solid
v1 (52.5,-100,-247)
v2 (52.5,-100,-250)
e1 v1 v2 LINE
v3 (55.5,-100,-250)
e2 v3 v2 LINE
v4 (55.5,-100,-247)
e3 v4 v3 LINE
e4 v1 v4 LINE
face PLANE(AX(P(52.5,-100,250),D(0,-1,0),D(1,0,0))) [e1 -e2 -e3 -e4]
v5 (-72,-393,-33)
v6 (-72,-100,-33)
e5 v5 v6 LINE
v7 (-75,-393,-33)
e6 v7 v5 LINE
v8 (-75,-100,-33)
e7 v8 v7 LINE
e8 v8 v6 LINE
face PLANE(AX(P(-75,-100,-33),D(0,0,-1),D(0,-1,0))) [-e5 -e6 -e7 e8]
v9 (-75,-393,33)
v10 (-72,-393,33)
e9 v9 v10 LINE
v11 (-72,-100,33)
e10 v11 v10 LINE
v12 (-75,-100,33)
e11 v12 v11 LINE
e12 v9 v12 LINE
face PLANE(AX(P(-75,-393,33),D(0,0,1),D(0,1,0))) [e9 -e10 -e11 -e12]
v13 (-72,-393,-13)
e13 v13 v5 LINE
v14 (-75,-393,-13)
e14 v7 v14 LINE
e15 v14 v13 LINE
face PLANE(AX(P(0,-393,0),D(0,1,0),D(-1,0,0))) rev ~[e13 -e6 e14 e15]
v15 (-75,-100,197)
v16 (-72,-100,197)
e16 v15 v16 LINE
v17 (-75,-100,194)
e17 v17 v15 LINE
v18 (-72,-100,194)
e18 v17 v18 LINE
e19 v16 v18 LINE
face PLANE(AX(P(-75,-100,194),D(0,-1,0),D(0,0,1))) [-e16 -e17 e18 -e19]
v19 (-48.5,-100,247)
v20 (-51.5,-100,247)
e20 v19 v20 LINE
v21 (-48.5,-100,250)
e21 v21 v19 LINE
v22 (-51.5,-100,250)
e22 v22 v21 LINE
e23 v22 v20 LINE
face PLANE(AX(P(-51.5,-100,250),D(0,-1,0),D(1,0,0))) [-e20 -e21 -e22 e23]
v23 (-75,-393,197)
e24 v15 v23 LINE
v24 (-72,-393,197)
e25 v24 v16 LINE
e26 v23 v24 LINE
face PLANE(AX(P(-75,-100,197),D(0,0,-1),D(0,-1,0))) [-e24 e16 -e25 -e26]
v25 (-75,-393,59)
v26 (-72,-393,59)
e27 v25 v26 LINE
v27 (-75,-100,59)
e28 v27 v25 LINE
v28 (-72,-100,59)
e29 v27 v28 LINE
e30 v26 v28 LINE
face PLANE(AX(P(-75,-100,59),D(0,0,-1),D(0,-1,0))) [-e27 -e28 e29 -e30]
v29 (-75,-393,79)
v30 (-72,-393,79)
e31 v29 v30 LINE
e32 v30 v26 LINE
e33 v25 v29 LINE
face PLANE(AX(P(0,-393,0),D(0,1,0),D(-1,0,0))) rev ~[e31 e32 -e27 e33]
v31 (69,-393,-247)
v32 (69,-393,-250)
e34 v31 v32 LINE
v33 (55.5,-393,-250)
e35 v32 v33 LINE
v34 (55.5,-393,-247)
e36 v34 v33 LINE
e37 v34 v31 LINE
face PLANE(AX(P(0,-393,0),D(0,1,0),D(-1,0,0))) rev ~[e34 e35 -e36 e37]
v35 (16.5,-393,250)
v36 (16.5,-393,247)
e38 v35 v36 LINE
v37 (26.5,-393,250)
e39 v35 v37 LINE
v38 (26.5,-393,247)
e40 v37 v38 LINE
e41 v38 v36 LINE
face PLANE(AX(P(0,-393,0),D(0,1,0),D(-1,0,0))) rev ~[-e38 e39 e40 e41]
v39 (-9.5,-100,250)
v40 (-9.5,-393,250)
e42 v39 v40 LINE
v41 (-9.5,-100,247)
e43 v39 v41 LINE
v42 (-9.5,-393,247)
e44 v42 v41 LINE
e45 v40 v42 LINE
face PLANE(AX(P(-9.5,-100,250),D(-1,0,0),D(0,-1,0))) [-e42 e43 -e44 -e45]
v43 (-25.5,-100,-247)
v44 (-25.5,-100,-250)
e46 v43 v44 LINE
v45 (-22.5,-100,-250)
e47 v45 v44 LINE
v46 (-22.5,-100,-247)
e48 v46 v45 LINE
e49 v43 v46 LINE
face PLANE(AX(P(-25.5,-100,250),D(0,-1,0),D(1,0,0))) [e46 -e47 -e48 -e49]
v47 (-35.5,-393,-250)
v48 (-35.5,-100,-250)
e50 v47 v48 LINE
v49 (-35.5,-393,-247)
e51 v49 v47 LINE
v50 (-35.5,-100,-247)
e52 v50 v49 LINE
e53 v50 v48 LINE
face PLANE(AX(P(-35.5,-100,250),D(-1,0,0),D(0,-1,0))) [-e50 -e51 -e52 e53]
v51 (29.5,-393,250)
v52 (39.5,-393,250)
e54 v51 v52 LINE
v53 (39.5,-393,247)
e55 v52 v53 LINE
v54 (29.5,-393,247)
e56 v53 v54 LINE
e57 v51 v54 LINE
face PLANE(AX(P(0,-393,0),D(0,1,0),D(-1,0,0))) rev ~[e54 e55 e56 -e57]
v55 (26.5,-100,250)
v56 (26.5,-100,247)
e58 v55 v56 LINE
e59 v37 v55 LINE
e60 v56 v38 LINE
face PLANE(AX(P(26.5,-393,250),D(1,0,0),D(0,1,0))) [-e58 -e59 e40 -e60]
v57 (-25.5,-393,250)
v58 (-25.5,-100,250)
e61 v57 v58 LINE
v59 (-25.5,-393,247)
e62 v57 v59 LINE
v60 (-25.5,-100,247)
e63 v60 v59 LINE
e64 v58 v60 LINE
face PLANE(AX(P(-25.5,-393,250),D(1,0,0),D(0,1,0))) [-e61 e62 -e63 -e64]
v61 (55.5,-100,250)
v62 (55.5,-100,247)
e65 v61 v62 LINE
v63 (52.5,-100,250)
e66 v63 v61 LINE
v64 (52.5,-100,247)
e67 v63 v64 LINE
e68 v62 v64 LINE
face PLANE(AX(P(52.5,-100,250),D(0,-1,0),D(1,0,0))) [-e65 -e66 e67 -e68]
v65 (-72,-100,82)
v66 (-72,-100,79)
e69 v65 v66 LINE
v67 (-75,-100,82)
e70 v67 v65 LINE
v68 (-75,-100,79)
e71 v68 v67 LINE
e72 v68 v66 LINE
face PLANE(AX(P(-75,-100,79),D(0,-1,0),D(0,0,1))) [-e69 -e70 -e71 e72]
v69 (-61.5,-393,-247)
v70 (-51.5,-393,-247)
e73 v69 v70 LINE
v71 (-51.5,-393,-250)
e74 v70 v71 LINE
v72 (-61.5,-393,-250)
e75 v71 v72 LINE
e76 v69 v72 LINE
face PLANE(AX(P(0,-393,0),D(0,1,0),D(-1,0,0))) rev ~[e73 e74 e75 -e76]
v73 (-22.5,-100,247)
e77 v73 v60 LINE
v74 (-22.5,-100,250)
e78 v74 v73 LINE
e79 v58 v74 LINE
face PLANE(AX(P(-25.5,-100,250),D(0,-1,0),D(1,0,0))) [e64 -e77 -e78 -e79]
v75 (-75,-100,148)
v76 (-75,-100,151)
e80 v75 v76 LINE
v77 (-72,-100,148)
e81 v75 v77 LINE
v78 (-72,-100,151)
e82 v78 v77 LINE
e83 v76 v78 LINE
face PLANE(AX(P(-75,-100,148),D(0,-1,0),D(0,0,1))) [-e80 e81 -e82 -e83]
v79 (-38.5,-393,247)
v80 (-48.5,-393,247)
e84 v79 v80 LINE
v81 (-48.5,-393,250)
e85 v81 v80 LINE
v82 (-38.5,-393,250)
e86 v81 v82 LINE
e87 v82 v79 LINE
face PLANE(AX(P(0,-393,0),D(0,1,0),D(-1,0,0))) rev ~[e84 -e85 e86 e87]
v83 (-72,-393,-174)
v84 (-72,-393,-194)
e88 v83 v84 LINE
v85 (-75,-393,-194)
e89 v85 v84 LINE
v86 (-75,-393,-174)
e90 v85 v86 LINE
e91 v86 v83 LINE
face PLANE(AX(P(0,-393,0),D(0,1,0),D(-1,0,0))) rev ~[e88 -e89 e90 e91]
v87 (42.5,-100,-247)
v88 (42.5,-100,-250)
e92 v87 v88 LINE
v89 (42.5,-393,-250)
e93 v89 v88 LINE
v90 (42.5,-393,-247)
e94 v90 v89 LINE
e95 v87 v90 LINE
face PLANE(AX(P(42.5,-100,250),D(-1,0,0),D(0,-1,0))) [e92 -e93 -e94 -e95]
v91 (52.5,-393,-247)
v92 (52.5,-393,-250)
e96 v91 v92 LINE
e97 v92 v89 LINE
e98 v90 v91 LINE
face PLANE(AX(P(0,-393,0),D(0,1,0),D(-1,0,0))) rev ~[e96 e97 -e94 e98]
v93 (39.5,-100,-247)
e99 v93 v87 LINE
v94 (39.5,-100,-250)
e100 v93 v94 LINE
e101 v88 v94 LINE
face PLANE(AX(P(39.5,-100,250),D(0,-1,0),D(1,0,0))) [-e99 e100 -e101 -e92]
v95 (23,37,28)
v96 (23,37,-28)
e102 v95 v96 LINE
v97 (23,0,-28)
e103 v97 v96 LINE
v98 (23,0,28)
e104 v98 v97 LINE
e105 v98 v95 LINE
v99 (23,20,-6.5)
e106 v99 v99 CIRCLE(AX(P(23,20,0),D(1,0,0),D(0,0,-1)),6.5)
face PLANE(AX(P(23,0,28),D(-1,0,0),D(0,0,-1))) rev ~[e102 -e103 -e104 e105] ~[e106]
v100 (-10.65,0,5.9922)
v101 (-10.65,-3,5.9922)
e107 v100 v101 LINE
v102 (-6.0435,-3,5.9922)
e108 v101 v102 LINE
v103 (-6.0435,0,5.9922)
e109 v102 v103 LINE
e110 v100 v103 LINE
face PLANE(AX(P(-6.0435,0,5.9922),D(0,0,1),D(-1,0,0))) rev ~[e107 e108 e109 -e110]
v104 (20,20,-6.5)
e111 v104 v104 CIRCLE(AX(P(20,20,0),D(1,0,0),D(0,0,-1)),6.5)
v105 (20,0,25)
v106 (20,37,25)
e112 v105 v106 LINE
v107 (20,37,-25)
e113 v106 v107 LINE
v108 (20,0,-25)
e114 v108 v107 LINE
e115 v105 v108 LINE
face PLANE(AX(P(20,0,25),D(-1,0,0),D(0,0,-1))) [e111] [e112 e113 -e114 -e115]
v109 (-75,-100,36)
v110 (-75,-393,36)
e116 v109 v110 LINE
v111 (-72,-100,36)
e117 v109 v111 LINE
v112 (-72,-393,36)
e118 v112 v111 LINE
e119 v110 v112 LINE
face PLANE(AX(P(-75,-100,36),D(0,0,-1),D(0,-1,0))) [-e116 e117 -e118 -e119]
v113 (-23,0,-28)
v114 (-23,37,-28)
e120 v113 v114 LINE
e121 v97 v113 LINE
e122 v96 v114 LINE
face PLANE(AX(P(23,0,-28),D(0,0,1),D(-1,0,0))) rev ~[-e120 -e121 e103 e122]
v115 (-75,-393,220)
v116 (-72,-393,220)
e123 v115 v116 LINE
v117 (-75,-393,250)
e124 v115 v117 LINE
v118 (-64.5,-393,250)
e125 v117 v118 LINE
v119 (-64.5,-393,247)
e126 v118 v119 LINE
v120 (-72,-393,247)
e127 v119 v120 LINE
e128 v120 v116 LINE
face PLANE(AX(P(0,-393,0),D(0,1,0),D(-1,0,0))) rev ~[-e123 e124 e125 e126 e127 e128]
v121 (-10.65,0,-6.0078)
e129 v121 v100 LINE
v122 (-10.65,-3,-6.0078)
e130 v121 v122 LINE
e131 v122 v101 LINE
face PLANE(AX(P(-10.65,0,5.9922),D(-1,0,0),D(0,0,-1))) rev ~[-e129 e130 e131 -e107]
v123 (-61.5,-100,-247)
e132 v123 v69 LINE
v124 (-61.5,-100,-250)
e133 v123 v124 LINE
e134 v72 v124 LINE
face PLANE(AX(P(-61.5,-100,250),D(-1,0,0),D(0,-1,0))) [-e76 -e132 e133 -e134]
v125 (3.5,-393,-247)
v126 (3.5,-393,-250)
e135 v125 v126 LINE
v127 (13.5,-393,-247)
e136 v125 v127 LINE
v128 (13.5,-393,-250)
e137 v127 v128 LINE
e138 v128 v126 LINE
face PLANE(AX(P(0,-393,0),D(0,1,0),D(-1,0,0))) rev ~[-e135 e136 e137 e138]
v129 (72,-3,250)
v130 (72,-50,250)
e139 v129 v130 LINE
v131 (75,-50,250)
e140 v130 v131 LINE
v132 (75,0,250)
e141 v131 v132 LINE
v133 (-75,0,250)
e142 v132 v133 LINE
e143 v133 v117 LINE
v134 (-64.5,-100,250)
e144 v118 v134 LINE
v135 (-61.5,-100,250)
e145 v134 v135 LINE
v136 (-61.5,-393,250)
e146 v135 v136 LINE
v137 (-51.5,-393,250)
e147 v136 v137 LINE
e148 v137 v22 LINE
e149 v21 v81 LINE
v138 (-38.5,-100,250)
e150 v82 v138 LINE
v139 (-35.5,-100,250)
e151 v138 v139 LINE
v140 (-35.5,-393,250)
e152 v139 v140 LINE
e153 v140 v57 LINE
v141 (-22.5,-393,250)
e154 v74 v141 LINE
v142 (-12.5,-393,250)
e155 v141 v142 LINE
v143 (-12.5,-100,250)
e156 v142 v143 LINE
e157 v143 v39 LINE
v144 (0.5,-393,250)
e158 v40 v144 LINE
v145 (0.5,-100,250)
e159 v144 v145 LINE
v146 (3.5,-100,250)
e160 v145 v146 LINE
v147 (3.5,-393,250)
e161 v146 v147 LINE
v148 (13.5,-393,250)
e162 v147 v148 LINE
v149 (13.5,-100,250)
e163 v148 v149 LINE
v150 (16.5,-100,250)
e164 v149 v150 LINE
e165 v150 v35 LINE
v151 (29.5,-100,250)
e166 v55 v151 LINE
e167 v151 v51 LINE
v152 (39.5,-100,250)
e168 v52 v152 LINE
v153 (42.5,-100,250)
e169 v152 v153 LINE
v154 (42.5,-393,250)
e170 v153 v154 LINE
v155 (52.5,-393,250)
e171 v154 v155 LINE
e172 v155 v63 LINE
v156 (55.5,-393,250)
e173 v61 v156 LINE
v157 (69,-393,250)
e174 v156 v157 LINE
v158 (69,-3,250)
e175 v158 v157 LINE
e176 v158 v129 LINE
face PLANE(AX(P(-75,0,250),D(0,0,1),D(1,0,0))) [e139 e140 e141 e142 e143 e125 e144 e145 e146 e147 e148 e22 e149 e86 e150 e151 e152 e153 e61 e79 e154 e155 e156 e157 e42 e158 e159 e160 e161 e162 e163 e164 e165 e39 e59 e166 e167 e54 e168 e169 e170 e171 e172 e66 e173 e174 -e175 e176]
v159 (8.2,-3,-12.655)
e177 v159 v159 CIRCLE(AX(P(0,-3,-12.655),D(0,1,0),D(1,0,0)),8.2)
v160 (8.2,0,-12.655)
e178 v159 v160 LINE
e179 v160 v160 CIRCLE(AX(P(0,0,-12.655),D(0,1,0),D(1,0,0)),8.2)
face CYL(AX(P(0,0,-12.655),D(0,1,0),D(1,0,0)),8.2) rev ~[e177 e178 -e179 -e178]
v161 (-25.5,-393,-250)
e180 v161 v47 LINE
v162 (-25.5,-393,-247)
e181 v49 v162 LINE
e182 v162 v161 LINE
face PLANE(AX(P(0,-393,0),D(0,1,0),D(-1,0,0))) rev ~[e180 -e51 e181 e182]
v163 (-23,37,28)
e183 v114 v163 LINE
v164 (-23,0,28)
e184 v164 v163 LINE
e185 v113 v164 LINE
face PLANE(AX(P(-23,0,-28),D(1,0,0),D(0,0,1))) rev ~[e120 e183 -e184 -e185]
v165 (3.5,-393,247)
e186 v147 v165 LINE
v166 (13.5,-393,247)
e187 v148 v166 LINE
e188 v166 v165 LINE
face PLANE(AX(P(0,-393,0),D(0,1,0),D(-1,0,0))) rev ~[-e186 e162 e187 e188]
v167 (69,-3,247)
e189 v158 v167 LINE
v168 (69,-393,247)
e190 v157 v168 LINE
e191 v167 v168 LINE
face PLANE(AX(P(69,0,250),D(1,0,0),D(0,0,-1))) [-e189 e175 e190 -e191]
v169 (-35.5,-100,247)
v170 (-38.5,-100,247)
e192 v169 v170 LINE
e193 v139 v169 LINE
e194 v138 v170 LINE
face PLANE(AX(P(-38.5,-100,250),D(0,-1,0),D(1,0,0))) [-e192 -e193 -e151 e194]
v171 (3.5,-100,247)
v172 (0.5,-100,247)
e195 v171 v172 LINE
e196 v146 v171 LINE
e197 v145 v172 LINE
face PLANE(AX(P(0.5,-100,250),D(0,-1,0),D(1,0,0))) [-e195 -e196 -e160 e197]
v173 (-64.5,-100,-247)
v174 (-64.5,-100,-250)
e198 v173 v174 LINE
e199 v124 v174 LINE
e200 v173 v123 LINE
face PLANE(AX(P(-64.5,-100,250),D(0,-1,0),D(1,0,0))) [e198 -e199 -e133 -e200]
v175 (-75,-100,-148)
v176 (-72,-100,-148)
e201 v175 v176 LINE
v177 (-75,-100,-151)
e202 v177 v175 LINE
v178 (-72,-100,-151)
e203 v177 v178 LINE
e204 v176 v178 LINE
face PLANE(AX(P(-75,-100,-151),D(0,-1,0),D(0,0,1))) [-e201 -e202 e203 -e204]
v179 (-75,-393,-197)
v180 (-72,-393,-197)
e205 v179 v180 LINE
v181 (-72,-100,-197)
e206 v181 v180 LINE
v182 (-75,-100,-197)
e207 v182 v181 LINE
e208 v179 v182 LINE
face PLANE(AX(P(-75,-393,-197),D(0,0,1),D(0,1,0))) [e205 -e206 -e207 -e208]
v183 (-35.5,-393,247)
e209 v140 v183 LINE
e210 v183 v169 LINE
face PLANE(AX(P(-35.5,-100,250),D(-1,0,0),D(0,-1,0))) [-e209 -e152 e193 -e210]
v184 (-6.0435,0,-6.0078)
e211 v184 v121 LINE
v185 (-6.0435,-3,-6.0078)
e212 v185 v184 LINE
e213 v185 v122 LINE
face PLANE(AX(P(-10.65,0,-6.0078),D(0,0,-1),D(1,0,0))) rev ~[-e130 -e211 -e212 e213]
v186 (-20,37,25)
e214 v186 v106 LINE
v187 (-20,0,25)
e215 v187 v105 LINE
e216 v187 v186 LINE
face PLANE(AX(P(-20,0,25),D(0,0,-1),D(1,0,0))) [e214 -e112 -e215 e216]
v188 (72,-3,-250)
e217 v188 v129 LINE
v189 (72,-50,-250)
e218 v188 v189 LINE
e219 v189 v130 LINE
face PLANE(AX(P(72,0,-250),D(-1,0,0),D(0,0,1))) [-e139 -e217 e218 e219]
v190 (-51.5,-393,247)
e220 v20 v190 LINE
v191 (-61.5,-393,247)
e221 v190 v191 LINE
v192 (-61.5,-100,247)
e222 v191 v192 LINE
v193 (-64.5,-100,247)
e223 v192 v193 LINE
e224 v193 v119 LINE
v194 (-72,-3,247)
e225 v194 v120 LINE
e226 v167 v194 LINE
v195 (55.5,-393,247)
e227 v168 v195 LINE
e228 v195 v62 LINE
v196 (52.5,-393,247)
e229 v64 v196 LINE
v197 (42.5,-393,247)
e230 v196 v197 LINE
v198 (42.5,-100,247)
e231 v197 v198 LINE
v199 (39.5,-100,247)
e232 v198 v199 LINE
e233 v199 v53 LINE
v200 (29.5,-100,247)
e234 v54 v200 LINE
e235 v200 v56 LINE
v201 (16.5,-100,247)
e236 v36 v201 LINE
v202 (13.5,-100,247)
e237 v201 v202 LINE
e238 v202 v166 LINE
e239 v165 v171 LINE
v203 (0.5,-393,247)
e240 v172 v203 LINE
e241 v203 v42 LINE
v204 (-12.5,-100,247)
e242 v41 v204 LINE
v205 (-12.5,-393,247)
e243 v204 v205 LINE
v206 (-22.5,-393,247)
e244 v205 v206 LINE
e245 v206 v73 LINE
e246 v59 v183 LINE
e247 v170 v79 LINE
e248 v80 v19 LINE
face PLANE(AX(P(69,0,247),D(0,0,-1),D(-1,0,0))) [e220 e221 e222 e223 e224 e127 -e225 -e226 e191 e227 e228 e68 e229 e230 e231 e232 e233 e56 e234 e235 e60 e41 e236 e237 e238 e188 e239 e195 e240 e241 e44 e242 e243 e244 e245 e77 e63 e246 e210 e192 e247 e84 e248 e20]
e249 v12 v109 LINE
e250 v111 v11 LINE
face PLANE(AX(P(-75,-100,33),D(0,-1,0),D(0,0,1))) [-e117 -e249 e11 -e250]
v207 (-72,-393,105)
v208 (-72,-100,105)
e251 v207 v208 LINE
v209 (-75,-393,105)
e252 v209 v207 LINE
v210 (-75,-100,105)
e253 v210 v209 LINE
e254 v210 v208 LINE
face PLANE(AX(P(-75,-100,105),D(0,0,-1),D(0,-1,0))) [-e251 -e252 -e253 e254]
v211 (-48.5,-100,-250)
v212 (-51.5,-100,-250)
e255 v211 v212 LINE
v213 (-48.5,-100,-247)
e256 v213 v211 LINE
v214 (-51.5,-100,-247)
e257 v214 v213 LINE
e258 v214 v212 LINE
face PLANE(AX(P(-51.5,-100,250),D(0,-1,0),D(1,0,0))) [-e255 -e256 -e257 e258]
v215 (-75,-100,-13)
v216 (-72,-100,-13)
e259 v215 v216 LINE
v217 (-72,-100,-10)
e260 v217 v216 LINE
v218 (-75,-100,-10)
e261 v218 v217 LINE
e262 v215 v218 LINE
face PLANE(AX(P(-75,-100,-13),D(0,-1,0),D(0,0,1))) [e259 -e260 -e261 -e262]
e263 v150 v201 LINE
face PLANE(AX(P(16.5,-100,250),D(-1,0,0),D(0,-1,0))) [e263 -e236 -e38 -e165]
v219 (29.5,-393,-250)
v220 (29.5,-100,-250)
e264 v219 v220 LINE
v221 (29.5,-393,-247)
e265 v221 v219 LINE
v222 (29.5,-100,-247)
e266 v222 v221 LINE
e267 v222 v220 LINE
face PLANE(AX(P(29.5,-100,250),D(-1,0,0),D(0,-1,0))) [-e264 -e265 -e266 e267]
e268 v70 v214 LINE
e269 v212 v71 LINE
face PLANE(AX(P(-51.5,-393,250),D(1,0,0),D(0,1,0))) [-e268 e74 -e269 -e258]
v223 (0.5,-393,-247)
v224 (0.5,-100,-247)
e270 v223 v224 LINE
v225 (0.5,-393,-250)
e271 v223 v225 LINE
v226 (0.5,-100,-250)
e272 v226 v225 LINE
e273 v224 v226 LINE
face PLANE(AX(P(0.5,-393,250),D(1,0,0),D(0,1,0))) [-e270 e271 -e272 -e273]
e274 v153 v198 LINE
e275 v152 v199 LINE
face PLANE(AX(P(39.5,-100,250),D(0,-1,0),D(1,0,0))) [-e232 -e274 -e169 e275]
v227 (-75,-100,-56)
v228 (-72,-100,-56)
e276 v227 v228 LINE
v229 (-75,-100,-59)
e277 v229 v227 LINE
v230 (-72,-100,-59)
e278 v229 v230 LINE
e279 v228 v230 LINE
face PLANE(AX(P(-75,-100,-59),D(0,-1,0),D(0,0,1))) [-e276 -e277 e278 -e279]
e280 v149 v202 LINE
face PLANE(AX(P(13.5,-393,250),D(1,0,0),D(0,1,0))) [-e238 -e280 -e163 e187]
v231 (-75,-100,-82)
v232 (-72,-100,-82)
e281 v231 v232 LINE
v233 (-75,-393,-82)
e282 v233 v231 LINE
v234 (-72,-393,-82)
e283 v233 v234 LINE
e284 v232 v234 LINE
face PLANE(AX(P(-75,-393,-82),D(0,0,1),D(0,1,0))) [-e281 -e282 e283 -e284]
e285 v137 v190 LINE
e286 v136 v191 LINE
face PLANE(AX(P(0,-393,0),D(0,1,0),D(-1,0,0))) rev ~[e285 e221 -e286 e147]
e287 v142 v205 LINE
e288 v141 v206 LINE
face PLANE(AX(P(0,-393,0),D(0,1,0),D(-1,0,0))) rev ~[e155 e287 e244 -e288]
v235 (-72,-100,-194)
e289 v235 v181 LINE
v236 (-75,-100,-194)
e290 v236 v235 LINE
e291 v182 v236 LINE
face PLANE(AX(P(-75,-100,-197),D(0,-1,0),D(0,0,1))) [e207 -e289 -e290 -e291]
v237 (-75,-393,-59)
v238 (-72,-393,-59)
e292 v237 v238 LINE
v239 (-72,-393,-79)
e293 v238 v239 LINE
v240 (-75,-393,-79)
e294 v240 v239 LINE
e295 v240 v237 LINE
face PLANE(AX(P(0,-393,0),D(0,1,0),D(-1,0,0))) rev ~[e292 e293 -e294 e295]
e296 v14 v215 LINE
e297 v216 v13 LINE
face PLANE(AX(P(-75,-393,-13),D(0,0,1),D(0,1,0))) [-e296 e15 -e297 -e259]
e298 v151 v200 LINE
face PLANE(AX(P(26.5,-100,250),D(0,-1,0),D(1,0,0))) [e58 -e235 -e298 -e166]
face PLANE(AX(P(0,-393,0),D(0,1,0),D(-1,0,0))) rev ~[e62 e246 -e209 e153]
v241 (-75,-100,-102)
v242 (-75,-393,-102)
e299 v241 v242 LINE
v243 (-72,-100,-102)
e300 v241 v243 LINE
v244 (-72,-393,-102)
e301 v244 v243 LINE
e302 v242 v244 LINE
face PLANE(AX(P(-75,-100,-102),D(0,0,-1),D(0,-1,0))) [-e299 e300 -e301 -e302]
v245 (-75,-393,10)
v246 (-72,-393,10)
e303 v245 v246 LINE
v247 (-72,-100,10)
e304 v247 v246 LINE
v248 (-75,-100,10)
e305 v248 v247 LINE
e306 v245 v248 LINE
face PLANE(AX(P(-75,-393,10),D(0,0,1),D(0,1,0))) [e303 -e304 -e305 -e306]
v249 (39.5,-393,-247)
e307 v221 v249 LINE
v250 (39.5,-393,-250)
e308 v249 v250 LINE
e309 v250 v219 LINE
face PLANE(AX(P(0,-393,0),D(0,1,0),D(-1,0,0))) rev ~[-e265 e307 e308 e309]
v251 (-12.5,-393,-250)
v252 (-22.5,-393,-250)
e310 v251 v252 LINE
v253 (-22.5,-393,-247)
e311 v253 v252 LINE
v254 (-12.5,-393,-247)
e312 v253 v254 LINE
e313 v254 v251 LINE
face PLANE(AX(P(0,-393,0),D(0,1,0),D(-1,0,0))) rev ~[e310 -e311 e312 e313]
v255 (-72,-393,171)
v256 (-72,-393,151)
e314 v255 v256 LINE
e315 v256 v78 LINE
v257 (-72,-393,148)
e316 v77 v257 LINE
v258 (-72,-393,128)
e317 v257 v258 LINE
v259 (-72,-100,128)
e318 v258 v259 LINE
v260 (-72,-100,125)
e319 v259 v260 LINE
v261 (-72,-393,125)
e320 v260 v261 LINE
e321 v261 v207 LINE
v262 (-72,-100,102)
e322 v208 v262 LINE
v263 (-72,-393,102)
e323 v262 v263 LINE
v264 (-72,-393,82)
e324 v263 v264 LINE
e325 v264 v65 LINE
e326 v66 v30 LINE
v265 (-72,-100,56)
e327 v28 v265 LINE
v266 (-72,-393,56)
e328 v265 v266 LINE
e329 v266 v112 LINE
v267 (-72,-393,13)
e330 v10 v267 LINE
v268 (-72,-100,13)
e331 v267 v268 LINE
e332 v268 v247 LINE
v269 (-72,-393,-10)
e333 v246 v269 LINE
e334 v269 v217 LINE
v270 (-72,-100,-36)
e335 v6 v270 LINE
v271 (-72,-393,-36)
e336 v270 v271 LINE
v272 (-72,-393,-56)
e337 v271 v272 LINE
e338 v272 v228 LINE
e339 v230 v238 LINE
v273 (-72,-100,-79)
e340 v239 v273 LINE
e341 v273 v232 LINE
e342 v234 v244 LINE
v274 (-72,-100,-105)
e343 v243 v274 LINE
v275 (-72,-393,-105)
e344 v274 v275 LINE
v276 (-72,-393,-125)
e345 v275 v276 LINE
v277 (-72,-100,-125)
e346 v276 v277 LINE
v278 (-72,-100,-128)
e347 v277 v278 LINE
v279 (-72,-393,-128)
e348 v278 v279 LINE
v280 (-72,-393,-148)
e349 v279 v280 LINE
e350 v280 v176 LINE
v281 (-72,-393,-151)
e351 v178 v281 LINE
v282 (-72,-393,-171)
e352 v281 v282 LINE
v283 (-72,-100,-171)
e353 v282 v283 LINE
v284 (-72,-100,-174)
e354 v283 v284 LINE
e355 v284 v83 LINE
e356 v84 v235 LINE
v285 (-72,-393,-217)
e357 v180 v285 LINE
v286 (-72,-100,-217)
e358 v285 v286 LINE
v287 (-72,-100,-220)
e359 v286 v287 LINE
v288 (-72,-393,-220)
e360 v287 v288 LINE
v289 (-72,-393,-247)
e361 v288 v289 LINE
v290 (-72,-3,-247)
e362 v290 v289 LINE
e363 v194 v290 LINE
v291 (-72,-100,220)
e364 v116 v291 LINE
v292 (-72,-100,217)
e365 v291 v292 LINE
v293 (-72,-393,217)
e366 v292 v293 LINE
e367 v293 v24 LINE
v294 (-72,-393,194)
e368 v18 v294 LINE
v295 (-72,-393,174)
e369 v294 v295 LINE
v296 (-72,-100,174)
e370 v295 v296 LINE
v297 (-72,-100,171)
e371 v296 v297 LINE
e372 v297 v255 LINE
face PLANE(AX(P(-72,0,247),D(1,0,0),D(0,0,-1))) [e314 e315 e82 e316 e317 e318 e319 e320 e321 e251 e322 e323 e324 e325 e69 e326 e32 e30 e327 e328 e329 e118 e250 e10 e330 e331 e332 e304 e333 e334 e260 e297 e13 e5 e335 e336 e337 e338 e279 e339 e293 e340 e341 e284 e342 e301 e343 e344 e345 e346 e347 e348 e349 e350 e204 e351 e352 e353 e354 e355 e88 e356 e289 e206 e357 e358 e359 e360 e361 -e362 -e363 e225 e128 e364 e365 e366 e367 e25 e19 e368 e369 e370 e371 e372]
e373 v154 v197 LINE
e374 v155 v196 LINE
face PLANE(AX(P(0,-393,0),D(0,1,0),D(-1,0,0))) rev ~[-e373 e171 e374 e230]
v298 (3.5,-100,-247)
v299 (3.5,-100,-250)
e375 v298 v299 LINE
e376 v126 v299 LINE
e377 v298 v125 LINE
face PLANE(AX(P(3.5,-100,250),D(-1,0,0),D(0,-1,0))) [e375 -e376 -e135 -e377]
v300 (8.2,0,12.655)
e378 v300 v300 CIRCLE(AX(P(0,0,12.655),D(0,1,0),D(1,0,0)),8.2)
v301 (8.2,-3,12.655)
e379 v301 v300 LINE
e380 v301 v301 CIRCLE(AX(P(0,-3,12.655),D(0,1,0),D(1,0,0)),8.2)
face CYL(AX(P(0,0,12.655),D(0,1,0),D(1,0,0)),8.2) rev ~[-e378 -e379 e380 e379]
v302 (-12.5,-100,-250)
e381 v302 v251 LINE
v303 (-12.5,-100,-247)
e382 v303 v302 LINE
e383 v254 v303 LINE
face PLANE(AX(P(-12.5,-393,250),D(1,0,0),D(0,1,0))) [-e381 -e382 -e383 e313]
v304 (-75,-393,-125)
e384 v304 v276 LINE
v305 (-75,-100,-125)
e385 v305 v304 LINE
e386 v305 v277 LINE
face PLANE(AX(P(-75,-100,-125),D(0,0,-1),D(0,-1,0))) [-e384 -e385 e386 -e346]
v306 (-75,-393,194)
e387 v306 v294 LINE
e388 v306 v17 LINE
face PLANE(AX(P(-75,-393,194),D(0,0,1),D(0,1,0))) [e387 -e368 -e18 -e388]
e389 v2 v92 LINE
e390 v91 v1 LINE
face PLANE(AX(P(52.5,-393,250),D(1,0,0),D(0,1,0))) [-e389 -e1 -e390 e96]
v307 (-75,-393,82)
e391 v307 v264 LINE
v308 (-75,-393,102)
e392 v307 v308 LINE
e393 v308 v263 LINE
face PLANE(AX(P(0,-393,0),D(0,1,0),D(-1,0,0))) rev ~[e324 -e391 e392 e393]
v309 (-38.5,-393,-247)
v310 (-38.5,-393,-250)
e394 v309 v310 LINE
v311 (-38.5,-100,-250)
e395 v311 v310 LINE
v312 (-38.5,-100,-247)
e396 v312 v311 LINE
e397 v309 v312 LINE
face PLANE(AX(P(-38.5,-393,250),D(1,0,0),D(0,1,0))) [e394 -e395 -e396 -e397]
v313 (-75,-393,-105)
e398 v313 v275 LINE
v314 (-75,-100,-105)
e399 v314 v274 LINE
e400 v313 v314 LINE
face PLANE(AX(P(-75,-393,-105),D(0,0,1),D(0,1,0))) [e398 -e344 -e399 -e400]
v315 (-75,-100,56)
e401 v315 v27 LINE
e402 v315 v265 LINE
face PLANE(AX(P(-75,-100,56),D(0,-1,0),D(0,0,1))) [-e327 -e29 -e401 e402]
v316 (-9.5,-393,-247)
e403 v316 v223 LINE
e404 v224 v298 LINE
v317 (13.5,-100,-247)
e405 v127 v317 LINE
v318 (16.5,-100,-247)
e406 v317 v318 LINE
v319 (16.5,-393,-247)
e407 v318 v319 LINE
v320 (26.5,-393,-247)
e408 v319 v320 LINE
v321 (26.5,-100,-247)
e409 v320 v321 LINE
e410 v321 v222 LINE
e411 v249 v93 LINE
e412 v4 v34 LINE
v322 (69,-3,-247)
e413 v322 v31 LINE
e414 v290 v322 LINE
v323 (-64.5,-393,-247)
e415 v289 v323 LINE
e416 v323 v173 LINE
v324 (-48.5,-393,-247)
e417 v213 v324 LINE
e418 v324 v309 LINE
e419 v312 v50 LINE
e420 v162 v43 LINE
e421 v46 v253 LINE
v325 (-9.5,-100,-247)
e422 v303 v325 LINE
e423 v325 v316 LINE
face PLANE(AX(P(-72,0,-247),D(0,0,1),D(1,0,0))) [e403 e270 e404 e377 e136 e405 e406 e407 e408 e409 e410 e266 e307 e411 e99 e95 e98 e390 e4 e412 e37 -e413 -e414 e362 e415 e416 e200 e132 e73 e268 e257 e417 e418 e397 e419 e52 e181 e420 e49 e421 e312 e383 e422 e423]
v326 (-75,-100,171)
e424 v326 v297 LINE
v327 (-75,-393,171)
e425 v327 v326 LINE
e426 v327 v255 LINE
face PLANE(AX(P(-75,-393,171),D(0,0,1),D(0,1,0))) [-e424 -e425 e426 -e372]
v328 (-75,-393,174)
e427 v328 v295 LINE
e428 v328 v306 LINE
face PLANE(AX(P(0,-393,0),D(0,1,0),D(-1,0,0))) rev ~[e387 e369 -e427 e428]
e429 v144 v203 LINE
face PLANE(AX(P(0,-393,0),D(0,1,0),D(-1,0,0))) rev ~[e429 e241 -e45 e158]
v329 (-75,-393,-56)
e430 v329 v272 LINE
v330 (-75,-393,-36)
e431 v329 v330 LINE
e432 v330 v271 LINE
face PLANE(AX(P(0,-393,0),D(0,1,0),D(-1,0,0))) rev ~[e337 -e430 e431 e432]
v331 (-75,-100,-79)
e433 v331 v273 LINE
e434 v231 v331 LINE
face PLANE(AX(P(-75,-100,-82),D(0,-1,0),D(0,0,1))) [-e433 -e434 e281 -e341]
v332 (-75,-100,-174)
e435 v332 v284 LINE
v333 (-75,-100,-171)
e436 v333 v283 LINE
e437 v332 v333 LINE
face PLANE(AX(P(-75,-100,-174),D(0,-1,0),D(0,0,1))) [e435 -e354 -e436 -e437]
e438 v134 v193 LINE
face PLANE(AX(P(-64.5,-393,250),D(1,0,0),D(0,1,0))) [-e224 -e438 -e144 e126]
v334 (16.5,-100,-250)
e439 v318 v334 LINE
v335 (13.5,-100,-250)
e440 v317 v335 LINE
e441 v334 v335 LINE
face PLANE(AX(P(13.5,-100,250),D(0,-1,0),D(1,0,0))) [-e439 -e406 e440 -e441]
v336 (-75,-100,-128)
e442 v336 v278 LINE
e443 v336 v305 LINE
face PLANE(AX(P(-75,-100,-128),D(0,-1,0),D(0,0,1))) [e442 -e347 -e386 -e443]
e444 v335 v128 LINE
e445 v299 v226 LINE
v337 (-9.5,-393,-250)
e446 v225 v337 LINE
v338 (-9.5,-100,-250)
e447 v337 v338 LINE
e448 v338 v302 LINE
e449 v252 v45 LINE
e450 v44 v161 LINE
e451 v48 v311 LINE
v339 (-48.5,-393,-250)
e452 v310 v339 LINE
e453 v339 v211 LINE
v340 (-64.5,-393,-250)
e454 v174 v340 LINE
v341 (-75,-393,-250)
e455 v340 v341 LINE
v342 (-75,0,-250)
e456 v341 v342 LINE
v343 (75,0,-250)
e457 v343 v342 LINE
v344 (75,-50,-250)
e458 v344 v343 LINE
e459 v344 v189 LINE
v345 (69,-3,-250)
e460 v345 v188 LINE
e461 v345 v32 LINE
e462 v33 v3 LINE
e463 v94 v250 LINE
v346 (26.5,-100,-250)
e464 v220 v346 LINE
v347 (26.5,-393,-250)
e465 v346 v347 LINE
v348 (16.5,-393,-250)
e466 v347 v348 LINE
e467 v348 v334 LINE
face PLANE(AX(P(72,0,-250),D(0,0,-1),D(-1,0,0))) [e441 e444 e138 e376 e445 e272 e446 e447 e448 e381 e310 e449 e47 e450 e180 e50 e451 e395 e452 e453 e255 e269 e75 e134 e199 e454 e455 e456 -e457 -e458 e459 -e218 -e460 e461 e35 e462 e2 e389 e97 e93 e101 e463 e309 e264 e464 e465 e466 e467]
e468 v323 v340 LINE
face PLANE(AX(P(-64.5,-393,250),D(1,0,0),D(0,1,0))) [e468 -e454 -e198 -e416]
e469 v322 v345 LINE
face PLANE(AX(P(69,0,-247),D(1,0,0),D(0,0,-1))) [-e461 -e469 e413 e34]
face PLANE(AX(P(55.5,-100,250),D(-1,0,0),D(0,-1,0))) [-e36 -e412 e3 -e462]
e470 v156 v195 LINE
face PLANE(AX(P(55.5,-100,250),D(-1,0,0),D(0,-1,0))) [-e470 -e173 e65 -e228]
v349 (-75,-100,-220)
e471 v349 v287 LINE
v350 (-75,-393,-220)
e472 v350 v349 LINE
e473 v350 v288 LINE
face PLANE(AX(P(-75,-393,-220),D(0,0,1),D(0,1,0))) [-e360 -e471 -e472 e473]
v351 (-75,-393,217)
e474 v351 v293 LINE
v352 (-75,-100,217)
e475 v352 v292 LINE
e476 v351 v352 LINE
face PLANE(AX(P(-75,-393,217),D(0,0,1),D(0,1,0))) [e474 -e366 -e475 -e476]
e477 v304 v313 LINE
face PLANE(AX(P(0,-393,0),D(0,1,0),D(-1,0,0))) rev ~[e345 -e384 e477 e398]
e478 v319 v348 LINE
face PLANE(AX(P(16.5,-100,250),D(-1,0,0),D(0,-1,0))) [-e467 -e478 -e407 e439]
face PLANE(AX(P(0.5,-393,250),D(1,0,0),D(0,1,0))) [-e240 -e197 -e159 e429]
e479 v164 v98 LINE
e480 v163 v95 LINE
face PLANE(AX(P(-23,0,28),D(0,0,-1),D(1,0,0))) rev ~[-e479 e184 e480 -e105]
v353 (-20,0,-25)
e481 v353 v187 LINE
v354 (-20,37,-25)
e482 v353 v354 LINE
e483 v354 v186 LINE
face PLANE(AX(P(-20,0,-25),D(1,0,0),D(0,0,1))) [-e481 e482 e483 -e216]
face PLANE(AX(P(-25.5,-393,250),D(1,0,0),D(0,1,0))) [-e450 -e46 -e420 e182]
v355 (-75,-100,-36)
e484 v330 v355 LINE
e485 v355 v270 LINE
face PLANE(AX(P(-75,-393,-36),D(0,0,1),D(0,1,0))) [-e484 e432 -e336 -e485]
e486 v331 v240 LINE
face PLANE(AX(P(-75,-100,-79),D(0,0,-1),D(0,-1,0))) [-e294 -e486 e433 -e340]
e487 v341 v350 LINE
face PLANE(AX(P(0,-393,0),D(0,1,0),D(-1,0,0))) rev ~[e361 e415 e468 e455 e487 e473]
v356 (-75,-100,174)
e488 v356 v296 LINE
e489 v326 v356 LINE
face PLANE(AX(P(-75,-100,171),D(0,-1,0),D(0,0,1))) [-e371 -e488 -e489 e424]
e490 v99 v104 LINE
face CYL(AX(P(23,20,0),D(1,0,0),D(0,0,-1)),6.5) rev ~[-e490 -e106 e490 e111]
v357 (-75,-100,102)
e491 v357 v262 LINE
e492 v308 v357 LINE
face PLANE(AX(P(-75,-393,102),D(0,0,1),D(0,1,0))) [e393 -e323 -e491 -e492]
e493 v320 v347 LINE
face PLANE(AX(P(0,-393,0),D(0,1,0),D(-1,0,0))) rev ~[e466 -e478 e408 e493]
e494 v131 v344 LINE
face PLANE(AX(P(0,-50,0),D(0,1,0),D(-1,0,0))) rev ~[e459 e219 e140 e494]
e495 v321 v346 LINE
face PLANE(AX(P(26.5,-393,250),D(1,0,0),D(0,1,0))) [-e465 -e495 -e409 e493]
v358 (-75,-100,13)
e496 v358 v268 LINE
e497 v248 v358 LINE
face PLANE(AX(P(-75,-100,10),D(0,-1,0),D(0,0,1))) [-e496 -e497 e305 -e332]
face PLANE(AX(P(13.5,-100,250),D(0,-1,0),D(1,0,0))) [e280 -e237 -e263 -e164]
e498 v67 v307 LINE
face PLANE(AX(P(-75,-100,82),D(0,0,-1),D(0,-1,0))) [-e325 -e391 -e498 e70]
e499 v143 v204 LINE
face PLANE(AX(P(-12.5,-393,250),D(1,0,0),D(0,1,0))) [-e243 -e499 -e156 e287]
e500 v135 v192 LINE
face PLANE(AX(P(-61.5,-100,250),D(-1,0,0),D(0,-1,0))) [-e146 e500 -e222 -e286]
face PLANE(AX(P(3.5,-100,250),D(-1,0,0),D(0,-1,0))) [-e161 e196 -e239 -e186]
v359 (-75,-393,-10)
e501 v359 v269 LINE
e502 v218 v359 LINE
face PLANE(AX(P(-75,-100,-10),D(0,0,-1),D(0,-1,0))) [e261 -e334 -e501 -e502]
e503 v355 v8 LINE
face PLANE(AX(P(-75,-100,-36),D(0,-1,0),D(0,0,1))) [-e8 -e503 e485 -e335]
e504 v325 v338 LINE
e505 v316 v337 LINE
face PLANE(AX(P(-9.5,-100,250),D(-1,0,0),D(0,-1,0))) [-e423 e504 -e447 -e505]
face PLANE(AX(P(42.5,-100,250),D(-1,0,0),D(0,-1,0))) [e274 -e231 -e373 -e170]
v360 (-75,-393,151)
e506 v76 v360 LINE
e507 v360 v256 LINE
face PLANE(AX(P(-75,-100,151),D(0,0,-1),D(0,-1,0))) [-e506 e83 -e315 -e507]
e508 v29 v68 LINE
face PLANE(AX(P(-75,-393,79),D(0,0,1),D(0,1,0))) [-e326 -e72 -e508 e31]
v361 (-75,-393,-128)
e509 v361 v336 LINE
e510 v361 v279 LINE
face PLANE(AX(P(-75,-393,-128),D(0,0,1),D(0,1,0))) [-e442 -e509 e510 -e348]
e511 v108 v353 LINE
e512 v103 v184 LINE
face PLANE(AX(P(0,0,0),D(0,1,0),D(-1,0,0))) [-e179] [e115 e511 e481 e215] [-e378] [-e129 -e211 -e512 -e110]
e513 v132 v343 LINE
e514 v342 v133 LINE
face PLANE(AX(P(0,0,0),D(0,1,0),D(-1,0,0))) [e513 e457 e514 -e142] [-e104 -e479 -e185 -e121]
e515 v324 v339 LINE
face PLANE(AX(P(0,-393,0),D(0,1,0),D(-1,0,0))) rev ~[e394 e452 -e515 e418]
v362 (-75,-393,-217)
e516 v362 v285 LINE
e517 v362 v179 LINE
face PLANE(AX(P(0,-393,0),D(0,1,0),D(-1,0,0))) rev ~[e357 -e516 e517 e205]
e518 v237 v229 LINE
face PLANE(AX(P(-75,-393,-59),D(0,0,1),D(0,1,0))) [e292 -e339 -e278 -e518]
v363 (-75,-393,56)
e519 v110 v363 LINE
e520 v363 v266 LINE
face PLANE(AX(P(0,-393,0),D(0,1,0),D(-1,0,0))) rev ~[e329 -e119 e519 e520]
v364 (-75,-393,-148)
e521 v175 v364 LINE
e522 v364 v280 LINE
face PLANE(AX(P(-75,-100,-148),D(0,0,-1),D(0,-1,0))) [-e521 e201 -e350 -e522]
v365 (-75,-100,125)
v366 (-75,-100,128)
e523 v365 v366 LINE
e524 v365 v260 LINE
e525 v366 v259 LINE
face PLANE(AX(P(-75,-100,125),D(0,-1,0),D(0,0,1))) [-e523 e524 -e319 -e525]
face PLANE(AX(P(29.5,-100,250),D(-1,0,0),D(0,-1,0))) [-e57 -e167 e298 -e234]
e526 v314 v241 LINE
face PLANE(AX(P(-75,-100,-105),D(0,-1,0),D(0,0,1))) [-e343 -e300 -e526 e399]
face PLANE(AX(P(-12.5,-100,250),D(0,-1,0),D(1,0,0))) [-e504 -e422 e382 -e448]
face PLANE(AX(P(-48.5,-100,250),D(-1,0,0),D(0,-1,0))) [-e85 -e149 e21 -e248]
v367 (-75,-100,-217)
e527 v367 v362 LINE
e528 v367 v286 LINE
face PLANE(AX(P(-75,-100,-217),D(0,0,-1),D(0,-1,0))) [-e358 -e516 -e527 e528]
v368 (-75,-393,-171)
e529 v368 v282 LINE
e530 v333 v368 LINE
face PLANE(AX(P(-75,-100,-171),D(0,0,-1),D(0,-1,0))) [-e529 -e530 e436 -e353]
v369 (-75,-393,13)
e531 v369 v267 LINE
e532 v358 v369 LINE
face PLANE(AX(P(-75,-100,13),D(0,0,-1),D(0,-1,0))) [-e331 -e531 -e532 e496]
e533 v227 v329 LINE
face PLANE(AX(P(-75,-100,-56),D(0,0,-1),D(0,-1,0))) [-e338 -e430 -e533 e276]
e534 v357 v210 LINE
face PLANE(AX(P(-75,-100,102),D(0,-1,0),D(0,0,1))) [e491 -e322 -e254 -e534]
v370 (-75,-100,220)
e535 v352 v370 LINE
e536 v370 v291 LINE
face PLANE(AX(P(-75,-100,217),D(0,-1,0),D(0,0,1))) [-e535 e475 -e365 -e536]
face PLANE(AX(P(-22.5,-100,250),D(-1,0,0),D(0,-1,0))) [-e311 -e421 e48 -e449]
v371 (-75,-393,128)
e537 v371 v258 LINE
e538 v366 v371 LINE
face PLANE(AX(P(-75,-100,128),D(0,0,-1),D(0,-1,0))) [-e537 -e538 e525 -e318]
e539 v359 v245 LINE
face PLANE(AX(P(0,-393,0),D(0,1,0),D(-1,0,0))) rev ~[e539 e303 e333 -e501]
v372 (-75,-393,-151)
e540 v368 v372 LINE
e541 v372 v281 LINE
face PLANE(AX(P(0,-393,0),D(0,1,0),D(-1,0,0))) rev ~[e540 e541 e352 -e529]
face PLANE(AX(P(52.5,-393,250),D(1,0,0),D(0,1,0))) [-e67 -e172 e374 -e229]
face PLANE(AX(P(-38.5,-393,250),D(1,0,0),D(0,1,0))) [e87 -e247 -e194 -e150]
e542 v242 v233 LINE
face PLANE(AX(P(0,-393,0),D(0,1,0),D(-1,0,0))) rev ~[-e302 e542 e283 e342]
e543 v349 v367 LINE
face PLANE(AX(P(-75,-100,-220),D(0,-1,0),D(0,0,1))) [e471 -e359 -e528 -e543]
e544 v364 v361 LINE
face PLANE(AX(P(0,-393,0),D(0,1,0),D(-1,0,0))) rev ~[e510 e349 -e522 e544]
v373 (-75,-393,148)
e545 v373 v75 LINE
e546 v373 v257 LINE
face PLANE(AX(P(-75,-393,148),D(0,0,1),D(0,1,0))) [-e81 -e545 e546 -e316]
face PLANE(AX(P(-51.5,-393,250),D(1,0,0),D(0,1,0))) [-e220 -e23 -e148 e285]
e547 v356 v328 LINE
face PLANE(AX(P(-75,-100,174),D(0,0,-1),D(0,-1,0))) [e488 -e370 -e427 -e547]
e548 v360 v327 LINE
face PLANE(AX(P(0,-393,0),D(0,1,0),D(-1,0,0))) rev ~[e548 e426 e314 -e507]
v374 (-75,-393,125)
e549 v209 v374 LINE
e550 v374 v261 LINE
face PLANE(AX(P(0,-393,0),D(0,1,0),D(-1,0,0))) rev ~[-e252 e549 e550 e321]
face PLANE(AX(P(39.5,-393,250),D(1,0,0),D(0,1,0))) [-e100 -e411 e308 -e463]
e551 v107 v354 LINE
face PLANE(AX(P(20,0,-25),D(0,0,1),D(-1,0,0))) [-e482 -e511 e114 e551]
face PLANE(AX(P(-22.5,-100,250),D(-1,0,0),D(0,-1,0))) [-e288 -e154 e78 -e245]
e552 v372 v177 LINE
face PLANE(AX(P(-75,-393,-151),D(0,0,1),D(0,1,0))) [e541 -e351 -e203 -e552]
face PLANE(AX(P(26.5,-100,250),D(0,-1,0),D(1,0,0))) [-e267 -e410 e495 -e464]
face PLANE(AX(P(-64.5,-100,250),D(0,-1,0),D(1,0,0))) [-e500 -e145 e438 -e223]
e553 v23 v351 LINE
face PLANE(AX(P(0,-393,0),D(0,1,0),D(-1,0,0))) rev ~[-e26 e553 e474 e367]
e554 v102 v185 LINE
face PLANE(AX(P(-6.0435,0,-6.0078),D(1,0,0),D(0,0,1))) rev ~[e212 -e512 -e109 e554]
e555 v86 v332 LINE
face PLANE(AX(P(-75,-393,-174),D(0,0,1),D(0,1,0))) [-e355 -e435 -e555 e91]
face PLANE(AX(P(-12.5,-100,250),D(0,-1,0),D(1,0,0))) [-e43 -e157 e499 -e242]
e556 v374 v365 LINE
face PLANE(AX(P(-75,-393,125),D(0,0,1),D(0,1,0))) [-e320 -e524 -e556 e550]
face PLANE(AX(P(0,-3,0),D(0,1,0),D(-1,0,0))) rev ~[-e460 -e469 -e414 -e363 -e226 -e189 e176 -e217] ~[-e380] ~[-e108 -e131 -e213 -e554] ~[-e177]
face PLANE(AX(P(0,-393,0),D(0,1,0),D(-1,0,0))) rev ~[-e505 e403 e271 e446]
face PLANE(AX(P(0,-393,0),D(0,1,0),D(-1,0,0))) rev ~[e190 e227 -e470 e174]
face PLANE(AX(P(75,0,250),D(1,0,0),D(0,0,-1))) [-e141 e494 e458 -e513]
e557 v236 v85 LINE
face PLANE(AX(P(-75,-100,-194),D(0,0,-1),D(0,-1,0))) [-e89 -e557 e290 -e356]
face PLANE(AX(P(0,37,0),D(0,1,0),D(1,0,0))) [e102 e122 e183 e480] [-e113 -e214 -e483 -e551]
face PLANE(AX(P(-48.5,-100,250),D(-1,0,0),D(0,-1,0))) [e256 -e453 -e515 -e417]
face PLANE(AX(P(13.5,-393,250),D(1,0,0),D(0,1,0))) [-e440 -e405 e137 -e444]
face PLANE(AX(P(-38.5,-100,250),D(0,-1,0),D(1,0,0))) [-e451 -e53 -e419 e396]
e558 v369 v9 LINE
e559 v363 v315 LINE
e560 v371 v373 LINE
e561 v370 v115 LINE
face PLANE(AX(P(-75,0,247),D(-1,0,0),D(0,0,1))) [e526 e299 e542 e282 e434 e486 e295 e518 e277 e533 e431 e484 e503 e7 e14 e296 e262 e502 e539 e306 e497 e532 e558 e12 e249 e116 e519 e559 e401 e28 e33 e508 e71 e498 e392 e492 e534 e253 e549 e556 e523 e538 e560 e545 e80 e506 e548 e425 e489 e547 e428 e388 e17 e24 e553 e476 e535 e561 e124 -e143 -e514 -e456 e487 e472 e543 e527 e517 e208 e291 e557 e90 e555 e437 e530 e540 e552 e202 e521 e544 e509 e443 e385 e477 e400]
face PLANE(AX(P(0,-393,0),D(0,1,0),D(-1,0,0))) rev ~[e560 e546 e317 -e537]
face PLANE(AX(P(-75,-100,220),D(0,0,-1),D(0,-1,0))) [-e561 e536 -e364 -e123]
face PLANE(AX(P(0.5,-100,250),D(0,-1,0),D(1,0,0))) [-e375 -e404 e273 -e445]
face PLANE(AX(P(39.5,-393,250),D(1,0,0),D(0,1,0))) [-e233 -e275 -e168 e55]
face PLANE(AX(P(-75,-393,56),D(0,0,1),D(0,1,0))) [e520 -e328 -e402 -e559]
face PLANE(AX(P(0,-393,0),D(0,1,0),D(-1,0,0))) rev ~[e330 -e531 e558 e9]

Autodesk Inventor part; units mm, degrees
ref_plane "YZ Plane" through (0, 0, 0) normal (1, 0, 0) x (0, 1, 0)
ref_plane "XZ Plane" through (0, 0, 0) normal (0, 1, 0) x (-1, 0, 0)
sketch "Sketch1" plane through (0, 0, 0) normal (0, 1, 0) x (-1, 0, 0)
  line L0 (75, 250) -> (-75, 250)
  line L1 (-75, 250) -> (-75, -250)
  line L2 (-75, -250) -> (75, -250)
  line L3 (75, -250) -> (75, 250)
  line L4 (75, 250) -> (-75, -250) construction
  line L5 (-75, 250) -> (75, -250) construction
  line L6 (-72, 250) -> (-75, 250)
  line L7 (-75, 250) -> (-75, -250)
  line L8 (-75, -250) -> (-72, -250)
  line L9 (-72, -250) -> (-72, 250)
  line L10 (-72, 250) -> (-75, -250) construction
  line L11 (-75, 250) -> (-72, -250) construction
  line L12 (75, 250) -> (-69, 250)
  line L13 (-69, 250) -> (-69, 247)
  line L14 (-69, 247) -> (75, 247)
  line L15 (75, 247) -> (75, 250)
  line L16 (75, 250) -> (-69, 247) construction
  line L17 (-69, 250) -> (75, 247) construction
  line L18 (75, -247) -> (-69, -247)
  line L19 (-69, -247) -> (-69, -250)
  line L20 (-69, -250) -> (75, -250)
  line L21 (75, -250) -> (75, -247)
  line L22 (75, -247) -> (-69, -250) construction
  line L23 (-69, -247) -> (75, -250) construction
  line L24 (75, 247) -> (72, 247)
  line L25 (72, 247) -> (72, -247)
  line L26 (72, -247) -> (75, -247)
  line L27 (75, -247) -> (75, 247)
  line L28 (75, 247) -> (72, -247) construction
  line L29 (72, 247) -> (75, -247) construction
  point P0 (0, 0)
  point P1 (-73.5, 0)
  point P2 (-75, 0)
  point P3 (3, 248.5)
  point P4 (3, -248.5)
  point P5 (73.5, 0)
  point P6 (75, 0)
  point P7 (72, -247)
  point P8 (72, 247)
  point P9 (-69, 250)
  point P10 (-69, -250)
  point P11 (75, -247)
  point P12 (75, -247)
  point P13 (75, 247)
  point P14 (75, 247)
  point P15 (75, -247)
  point P16 (75, 247)
  dimension "d0" = 150
  dimension "d1" = 500
  dimension "d2" = 3
  dimension "d3" = 500
  dimension "d4" = 144
  dimension "d5" = 3
  dimension "d6" = 144
  dimension "d7" = 3
  dimension "d8" = 3
  dimension "d9" = 494
extrude "Extrusion1" add sketch "Sketch1" against normal blind 3 contours L3 L14 L13 L0 | L13 L14 L25 L18 L19 L2 L9 L0 | L9 L2 L1 L0 | L3 L2 L19 L18
extrude "Extrusion2" add sketch "Sketch1" against normal blind 50 contours L9 L2 L1 L0
extrude "Extrusion3" add sketch "Sketch1" against normal blind 393 contours L3 L14 L13 L0 | L3 L18 L25 L14 | L3 L2 L19 L18
sketch "Sketch2" plane through (0, 0, 0) normal (0, 1, 0) x (1, 0, 0)
  circle A0 centre (0, -12.655) radius 8.2
  circle A1 centre (0, 12.655) radius 8.2
  line L0 (-6.0435, -5.9922) -> (-10.65, -5.9922)
  line L1 (-10.65, -5.9922) -> (-10.65, 6.0078)
  line L2 (-10.65, 6.0078) -> (-6.0435, 6.0078)
  line L3 (-6.0435, 6.0078) -> (-6.0435, -5.9922)
  line L4 (-6.0435, -5.9922) -> (-10.65, 6.0078) construction
  line L5 (-10.65, -5.9922) -> (-6.0435, 6.0078) construction
  line L6 (0, 12.655) -> (0, -12.655)
  point P0 (0, 0)
  point P1 (0, 0)
  point P2 (-8.3467, 0.0078)
  point P3 (0, 0)
  dimension "d16" = 16.4
  dimension "d17" = 16.4
  dimension "d18" = 25.31
  dimension "d19" = 4.6065
  dimension "d20" = 12
  dimension "d21" = 12.6628
  dimension "d22" = 8.3467
extrude "Extrusion4" cut sketch "Sketch2" along normal mid plane 10
ref_plane "Work Plane2" through (-1.5, -393, 247) normal (1, 0, 0) x (0, 0, -1)
sketch "Sketch4" plane through (-1.5, -393, 247) normal (1, 0, 0) x (0, 0, -1)
  line L0 (247, 390) -> (50.5, 49.652)
  line L1 (247, 390) -> (640, 390) construction
  line L2 (247, 390) -> (443.5, 49.652)
  line L3 (247, 390) -> (640, 390) construction
  line L4 (247, 390) -> (247, -3)
  line L5 (247, 390) -> (640, 390) construction
  line L6 (0, 390) -> (0, 0) projected
  line L7 (0, -37.8165) -> (497, -43.0127)
  line L8 (497, 393) -> (497, 0) projected
  line L9 (242.545, 390) -> (226.145, 390) projected
  line L10 (267.855, 390) -> (251.455, 390) projected
  line L11 (242.545, 390) -> (251.455, 390)
  point P0 (247, 393)
  dimension "d35" = 393
  dimension "d36" = 120
  dimension "d37" = 393
  dimension "d38" = 60
  dimension "d39" = 393
  dimension "d40" = 90
sketch "Sketch5" plane through (-75, 0, 250) normal (0, 0, 1) x (1, 0, 0)
  line L0 (10.5, -100) -> (13.5, -100)
  line L1 (13.5, -100) -> (13.5, -393)
  line L2 (13.5, -393) -> (10.5, -393)
  line L3 (10.5, -393) -> (10.5, -100)
  line L4 (144, -393) -> (0, -393) projected
  line L5 (0, 0) -> (0, -393) projected
  line L6 (26.5, -100) -> (26.5, -393)
  line L7 (23.5, -393) -> (23.5, -100)
  line L8 (23.5, -100) -> (26.5, -100)
  line L9 (26.5, -393) -> (23.5, -393)
  line L10 (39.5, -100) -> (39.5, -393)
  line L11 (36.5, -393) -> (36.5, -100)
  line L12 (36.5, -100) -> (39.5, -100)
  line L13 (39.5, -393) -> (36.5, -393)
  line L14 (52.5, -100) -> (52.5, -393)
  line L15 (49.5, -393) -> (49.5, -100)
  line L16 (49.5, -100) -> (52.5, -100)
  line L17 (52.5, -393) -> (49.5, -393)
  line L18 (65.5, -100) -> (65.5, -393)
  line L19 (62.5, -393) -> (62.5, -100)
  line L20 (62.5, -100) -> (65.5, -100)
  line L21 (65.5, -393) -> (62.5, -393)
  line L22 (78.5, -100) -> (78.5, -393)
  line L23 (75.5, -393) -> (75.5, -100)
  line L24 (75.5, -100) -> (78.5, -100)
  line L25 (78.5, -393) -> (75.5, -393)
  line L26 (91.5, -100) -> (91.5, -393)
  line L27 (88.5, -393) -> (88.5, -100)
  line L28 (88.5, -100) -> (91.5, -100)
  line L29 (91.5, -393) -> (88.5, -393)
  line L30 (104.5, -100) -> (104.5, -393)
  line L31 (101.5, -393) -> (101.5, -100)
  line L32 (101.5, -100) -> (104.5, -100)
  line L33 (104.5, -393) -> (101.5, -393)
  line L34 (117.5, -100) -> (117.5, -393)
  line L35 (114.5, -393) -> (114.5, -100)
  line L36 (114.5, -100) -> (117.5, -100)
  line L37 (117.5, -393) -> (114.5, -393)
  line L38 (130.5, -100) -> (130.5, -393)
  line L39 (127.5, -393) -> (127.5, -100)
  line L40 (127.5, -100) -> (130.5, -100)
  line L41 (130.5, -393) -> (127.5, -393)
  point P0 (75, 0)
  point P1 (12, -393)
  point P2 (25, -393)
  point P3 (38, -393)
  point P4 (51, -393)
  point P5 (64, -393)
  point P6 (77, -393)
  point P7 (90, -393)
  point P8 (103, -393)
  point P9 (116, -393)
  point P10 (129, -393)
  dimension "d41" = 3
  dimension "d42" = 293
  dimension "d43" = 10.5
  dimension "d46" = 13
extrude "Extrusion5" cut sketch "Sketch5" against normal blind 600
sketch "Sketch6" plane through (-75, 0, -250) normal (-1, 0, 0) x (0, 0, 1)
  line L0 (30, -100) -> (33, -100)
  line L1 (33, -100) -> (33, -393)
  line L2 (33, -393) -> (30, -393)
  line L3 (30, -393) -> (30, -100)
  line L4 (500, -393) -> (0, -393) projected
  line L5 (0, 0) -> (0, -393) projected
  line L6 (53, -100) -> (56, -100)
  line L7 (56, -100) -> (56, -393)
  line L8 (53, -393) -> (53, -100)
  line L9 (76, -100) -> (79, -100)
  line L10 (79, -100) -> (79, -393)
  line L11 (76, -393) -> (76, -100)
  line L12 (99, -100) -> (102, -100)
  line L13 (102, -100) -> (102, -393)
  line L14 (99, -393) -> (99, -100)
  line L15 (122, -100) -> (125, -100)
  line L16 (125, -100) -> (125, -393)
  line L17 (122, -393) -> (122, -100)
  line L18 (145, -100) -> (148, -100)
  line L19 (148, -100) -> (148, -393)
  line L20 (145, -393) -> (145, -100)
  line L21 (168, -100) -> (171, -100)
  line L22 (171, -100) -> (171, -393)
  line L23 (168, -393) -> (168, -100)
  line L24 (191, -100) -> (194, -100)
  line L25 (194, -100) -> (194, -393)
  line L26 (191, -393) -> (191, -100)
  line L27 (214, -100) -> (217, -100)
  line L28 (217, -100) -> (217, -393)
  line L29 (214, -393) -> (214, -100)
  line L30 (237, -100) -> (240, -100)
  line L31 (240, -100) -> (240, -393)
  line L32 (237, -393) -> (237, -100)
  line L33 (260, -100) -> (263, -100)
  line L34 (263, -100) -> (263, -393)
  line L35 (260, -393) -> (260, -100)
  line L36 (283, -100) -> (286, -100)
  line L37 (286, -100) -> (286, -393)
  line L38 (283, -393) -> (283, -100)
  line L39 (306, -100) -> (309, -100)
  line L40 (309, -100) -> (309, -393)
  line L41 (306, -393) -> (306, -100)
  line L42 (329, -100) -> (332, -100)
  line L43 (332, -100) -> (332, -393)
  line L44 (329, -393) -> (329, -100)
  line L45 (352, -100) -> (355, -100)
  line L46 (355, -100) -> (355, -393)
  line L47 (352, -393) -> (352, -100)
  line L48 (375, -100) -> (378, -100)
  line L49 (378, -100) -> (378, -393)
  line L50 (375, -393) -> (375, -100)
  line L51 (398, -100) -> (401, -100)
  line L52 (401, -100) -> (401, -393)
  line L53 (398, -393) -> (398, -100)
  line L54 (421, -100) -> (424, -100)
  line L55 (424, -100) -> (424, -393)
  line L56 (421, -393) -> (421, -100)
  line L57 (444, -100) -> (447, -100)
  line L58 (447, -100) -> (447, -393)
  line L59 (444, -393) -> (444, -100)
  line L60 (467, -100) -> (470, -100)
  line L61 (470, -100) -> (470, -393)
  line L62 (467, -393) -> (467, -100)
  point P0 (250, 0)
  point P1 (31.5, -393)
  point P2 (56, -393)
  dimension "d53" = 3
  dimension "d54" = 293
  dimension "d55" = 30
  dimension "d58" = 23
extrude "Extrusion6" cut sketch "Sketch6" against normal blind 20
sketch "Sketch7" plane through (0, 0, 0) normal (0, 1, 0) x (1, 0, 0)
  line L0 (-20, -25) -> (20, -25)
  line L1 (20, -25) -> (20, 25)
  line L2 (20, 25) -> (-20, 25)
  line L3 (-20, 25) -> (-20, -25)
  line L4 (-20, -25) -> (20, 25) construction
  line L5 (20, -25) -> (-20, 25) construction
  line L6 (-23, -28) -> (23, -28)
  line L7 (23, -28) -> (23, 28)
  line L8 (23, 28) -> (-23, 28)
  line L9 (-23, 28) -> (-23, -28)
  line L10 (-23, -28) -> (23, 28) construction
  line L11 (23, -28) -> (-23, 28) construction
  point P0 (0, 0)
  dimension "d65" = 40
  dimension "d66" = 50
  dimension "d67" = 46
  dimension "d68" = 56
extrude "Extrusion7" add sketch "Sketch7" along normal blind 37
sketch "Sketch9" plane through (23, 0, 28) normal (1, 0, 0) x (0, 0, -1)
  circle A0 centre (28, 20) radius 6.5
  point P0 (28, 0)
  dimension "d75" = 13
extrude "Extrusion9" cut sketch "Sketch9" against normal blind 10
properties part number "Sensors Holder V3"
